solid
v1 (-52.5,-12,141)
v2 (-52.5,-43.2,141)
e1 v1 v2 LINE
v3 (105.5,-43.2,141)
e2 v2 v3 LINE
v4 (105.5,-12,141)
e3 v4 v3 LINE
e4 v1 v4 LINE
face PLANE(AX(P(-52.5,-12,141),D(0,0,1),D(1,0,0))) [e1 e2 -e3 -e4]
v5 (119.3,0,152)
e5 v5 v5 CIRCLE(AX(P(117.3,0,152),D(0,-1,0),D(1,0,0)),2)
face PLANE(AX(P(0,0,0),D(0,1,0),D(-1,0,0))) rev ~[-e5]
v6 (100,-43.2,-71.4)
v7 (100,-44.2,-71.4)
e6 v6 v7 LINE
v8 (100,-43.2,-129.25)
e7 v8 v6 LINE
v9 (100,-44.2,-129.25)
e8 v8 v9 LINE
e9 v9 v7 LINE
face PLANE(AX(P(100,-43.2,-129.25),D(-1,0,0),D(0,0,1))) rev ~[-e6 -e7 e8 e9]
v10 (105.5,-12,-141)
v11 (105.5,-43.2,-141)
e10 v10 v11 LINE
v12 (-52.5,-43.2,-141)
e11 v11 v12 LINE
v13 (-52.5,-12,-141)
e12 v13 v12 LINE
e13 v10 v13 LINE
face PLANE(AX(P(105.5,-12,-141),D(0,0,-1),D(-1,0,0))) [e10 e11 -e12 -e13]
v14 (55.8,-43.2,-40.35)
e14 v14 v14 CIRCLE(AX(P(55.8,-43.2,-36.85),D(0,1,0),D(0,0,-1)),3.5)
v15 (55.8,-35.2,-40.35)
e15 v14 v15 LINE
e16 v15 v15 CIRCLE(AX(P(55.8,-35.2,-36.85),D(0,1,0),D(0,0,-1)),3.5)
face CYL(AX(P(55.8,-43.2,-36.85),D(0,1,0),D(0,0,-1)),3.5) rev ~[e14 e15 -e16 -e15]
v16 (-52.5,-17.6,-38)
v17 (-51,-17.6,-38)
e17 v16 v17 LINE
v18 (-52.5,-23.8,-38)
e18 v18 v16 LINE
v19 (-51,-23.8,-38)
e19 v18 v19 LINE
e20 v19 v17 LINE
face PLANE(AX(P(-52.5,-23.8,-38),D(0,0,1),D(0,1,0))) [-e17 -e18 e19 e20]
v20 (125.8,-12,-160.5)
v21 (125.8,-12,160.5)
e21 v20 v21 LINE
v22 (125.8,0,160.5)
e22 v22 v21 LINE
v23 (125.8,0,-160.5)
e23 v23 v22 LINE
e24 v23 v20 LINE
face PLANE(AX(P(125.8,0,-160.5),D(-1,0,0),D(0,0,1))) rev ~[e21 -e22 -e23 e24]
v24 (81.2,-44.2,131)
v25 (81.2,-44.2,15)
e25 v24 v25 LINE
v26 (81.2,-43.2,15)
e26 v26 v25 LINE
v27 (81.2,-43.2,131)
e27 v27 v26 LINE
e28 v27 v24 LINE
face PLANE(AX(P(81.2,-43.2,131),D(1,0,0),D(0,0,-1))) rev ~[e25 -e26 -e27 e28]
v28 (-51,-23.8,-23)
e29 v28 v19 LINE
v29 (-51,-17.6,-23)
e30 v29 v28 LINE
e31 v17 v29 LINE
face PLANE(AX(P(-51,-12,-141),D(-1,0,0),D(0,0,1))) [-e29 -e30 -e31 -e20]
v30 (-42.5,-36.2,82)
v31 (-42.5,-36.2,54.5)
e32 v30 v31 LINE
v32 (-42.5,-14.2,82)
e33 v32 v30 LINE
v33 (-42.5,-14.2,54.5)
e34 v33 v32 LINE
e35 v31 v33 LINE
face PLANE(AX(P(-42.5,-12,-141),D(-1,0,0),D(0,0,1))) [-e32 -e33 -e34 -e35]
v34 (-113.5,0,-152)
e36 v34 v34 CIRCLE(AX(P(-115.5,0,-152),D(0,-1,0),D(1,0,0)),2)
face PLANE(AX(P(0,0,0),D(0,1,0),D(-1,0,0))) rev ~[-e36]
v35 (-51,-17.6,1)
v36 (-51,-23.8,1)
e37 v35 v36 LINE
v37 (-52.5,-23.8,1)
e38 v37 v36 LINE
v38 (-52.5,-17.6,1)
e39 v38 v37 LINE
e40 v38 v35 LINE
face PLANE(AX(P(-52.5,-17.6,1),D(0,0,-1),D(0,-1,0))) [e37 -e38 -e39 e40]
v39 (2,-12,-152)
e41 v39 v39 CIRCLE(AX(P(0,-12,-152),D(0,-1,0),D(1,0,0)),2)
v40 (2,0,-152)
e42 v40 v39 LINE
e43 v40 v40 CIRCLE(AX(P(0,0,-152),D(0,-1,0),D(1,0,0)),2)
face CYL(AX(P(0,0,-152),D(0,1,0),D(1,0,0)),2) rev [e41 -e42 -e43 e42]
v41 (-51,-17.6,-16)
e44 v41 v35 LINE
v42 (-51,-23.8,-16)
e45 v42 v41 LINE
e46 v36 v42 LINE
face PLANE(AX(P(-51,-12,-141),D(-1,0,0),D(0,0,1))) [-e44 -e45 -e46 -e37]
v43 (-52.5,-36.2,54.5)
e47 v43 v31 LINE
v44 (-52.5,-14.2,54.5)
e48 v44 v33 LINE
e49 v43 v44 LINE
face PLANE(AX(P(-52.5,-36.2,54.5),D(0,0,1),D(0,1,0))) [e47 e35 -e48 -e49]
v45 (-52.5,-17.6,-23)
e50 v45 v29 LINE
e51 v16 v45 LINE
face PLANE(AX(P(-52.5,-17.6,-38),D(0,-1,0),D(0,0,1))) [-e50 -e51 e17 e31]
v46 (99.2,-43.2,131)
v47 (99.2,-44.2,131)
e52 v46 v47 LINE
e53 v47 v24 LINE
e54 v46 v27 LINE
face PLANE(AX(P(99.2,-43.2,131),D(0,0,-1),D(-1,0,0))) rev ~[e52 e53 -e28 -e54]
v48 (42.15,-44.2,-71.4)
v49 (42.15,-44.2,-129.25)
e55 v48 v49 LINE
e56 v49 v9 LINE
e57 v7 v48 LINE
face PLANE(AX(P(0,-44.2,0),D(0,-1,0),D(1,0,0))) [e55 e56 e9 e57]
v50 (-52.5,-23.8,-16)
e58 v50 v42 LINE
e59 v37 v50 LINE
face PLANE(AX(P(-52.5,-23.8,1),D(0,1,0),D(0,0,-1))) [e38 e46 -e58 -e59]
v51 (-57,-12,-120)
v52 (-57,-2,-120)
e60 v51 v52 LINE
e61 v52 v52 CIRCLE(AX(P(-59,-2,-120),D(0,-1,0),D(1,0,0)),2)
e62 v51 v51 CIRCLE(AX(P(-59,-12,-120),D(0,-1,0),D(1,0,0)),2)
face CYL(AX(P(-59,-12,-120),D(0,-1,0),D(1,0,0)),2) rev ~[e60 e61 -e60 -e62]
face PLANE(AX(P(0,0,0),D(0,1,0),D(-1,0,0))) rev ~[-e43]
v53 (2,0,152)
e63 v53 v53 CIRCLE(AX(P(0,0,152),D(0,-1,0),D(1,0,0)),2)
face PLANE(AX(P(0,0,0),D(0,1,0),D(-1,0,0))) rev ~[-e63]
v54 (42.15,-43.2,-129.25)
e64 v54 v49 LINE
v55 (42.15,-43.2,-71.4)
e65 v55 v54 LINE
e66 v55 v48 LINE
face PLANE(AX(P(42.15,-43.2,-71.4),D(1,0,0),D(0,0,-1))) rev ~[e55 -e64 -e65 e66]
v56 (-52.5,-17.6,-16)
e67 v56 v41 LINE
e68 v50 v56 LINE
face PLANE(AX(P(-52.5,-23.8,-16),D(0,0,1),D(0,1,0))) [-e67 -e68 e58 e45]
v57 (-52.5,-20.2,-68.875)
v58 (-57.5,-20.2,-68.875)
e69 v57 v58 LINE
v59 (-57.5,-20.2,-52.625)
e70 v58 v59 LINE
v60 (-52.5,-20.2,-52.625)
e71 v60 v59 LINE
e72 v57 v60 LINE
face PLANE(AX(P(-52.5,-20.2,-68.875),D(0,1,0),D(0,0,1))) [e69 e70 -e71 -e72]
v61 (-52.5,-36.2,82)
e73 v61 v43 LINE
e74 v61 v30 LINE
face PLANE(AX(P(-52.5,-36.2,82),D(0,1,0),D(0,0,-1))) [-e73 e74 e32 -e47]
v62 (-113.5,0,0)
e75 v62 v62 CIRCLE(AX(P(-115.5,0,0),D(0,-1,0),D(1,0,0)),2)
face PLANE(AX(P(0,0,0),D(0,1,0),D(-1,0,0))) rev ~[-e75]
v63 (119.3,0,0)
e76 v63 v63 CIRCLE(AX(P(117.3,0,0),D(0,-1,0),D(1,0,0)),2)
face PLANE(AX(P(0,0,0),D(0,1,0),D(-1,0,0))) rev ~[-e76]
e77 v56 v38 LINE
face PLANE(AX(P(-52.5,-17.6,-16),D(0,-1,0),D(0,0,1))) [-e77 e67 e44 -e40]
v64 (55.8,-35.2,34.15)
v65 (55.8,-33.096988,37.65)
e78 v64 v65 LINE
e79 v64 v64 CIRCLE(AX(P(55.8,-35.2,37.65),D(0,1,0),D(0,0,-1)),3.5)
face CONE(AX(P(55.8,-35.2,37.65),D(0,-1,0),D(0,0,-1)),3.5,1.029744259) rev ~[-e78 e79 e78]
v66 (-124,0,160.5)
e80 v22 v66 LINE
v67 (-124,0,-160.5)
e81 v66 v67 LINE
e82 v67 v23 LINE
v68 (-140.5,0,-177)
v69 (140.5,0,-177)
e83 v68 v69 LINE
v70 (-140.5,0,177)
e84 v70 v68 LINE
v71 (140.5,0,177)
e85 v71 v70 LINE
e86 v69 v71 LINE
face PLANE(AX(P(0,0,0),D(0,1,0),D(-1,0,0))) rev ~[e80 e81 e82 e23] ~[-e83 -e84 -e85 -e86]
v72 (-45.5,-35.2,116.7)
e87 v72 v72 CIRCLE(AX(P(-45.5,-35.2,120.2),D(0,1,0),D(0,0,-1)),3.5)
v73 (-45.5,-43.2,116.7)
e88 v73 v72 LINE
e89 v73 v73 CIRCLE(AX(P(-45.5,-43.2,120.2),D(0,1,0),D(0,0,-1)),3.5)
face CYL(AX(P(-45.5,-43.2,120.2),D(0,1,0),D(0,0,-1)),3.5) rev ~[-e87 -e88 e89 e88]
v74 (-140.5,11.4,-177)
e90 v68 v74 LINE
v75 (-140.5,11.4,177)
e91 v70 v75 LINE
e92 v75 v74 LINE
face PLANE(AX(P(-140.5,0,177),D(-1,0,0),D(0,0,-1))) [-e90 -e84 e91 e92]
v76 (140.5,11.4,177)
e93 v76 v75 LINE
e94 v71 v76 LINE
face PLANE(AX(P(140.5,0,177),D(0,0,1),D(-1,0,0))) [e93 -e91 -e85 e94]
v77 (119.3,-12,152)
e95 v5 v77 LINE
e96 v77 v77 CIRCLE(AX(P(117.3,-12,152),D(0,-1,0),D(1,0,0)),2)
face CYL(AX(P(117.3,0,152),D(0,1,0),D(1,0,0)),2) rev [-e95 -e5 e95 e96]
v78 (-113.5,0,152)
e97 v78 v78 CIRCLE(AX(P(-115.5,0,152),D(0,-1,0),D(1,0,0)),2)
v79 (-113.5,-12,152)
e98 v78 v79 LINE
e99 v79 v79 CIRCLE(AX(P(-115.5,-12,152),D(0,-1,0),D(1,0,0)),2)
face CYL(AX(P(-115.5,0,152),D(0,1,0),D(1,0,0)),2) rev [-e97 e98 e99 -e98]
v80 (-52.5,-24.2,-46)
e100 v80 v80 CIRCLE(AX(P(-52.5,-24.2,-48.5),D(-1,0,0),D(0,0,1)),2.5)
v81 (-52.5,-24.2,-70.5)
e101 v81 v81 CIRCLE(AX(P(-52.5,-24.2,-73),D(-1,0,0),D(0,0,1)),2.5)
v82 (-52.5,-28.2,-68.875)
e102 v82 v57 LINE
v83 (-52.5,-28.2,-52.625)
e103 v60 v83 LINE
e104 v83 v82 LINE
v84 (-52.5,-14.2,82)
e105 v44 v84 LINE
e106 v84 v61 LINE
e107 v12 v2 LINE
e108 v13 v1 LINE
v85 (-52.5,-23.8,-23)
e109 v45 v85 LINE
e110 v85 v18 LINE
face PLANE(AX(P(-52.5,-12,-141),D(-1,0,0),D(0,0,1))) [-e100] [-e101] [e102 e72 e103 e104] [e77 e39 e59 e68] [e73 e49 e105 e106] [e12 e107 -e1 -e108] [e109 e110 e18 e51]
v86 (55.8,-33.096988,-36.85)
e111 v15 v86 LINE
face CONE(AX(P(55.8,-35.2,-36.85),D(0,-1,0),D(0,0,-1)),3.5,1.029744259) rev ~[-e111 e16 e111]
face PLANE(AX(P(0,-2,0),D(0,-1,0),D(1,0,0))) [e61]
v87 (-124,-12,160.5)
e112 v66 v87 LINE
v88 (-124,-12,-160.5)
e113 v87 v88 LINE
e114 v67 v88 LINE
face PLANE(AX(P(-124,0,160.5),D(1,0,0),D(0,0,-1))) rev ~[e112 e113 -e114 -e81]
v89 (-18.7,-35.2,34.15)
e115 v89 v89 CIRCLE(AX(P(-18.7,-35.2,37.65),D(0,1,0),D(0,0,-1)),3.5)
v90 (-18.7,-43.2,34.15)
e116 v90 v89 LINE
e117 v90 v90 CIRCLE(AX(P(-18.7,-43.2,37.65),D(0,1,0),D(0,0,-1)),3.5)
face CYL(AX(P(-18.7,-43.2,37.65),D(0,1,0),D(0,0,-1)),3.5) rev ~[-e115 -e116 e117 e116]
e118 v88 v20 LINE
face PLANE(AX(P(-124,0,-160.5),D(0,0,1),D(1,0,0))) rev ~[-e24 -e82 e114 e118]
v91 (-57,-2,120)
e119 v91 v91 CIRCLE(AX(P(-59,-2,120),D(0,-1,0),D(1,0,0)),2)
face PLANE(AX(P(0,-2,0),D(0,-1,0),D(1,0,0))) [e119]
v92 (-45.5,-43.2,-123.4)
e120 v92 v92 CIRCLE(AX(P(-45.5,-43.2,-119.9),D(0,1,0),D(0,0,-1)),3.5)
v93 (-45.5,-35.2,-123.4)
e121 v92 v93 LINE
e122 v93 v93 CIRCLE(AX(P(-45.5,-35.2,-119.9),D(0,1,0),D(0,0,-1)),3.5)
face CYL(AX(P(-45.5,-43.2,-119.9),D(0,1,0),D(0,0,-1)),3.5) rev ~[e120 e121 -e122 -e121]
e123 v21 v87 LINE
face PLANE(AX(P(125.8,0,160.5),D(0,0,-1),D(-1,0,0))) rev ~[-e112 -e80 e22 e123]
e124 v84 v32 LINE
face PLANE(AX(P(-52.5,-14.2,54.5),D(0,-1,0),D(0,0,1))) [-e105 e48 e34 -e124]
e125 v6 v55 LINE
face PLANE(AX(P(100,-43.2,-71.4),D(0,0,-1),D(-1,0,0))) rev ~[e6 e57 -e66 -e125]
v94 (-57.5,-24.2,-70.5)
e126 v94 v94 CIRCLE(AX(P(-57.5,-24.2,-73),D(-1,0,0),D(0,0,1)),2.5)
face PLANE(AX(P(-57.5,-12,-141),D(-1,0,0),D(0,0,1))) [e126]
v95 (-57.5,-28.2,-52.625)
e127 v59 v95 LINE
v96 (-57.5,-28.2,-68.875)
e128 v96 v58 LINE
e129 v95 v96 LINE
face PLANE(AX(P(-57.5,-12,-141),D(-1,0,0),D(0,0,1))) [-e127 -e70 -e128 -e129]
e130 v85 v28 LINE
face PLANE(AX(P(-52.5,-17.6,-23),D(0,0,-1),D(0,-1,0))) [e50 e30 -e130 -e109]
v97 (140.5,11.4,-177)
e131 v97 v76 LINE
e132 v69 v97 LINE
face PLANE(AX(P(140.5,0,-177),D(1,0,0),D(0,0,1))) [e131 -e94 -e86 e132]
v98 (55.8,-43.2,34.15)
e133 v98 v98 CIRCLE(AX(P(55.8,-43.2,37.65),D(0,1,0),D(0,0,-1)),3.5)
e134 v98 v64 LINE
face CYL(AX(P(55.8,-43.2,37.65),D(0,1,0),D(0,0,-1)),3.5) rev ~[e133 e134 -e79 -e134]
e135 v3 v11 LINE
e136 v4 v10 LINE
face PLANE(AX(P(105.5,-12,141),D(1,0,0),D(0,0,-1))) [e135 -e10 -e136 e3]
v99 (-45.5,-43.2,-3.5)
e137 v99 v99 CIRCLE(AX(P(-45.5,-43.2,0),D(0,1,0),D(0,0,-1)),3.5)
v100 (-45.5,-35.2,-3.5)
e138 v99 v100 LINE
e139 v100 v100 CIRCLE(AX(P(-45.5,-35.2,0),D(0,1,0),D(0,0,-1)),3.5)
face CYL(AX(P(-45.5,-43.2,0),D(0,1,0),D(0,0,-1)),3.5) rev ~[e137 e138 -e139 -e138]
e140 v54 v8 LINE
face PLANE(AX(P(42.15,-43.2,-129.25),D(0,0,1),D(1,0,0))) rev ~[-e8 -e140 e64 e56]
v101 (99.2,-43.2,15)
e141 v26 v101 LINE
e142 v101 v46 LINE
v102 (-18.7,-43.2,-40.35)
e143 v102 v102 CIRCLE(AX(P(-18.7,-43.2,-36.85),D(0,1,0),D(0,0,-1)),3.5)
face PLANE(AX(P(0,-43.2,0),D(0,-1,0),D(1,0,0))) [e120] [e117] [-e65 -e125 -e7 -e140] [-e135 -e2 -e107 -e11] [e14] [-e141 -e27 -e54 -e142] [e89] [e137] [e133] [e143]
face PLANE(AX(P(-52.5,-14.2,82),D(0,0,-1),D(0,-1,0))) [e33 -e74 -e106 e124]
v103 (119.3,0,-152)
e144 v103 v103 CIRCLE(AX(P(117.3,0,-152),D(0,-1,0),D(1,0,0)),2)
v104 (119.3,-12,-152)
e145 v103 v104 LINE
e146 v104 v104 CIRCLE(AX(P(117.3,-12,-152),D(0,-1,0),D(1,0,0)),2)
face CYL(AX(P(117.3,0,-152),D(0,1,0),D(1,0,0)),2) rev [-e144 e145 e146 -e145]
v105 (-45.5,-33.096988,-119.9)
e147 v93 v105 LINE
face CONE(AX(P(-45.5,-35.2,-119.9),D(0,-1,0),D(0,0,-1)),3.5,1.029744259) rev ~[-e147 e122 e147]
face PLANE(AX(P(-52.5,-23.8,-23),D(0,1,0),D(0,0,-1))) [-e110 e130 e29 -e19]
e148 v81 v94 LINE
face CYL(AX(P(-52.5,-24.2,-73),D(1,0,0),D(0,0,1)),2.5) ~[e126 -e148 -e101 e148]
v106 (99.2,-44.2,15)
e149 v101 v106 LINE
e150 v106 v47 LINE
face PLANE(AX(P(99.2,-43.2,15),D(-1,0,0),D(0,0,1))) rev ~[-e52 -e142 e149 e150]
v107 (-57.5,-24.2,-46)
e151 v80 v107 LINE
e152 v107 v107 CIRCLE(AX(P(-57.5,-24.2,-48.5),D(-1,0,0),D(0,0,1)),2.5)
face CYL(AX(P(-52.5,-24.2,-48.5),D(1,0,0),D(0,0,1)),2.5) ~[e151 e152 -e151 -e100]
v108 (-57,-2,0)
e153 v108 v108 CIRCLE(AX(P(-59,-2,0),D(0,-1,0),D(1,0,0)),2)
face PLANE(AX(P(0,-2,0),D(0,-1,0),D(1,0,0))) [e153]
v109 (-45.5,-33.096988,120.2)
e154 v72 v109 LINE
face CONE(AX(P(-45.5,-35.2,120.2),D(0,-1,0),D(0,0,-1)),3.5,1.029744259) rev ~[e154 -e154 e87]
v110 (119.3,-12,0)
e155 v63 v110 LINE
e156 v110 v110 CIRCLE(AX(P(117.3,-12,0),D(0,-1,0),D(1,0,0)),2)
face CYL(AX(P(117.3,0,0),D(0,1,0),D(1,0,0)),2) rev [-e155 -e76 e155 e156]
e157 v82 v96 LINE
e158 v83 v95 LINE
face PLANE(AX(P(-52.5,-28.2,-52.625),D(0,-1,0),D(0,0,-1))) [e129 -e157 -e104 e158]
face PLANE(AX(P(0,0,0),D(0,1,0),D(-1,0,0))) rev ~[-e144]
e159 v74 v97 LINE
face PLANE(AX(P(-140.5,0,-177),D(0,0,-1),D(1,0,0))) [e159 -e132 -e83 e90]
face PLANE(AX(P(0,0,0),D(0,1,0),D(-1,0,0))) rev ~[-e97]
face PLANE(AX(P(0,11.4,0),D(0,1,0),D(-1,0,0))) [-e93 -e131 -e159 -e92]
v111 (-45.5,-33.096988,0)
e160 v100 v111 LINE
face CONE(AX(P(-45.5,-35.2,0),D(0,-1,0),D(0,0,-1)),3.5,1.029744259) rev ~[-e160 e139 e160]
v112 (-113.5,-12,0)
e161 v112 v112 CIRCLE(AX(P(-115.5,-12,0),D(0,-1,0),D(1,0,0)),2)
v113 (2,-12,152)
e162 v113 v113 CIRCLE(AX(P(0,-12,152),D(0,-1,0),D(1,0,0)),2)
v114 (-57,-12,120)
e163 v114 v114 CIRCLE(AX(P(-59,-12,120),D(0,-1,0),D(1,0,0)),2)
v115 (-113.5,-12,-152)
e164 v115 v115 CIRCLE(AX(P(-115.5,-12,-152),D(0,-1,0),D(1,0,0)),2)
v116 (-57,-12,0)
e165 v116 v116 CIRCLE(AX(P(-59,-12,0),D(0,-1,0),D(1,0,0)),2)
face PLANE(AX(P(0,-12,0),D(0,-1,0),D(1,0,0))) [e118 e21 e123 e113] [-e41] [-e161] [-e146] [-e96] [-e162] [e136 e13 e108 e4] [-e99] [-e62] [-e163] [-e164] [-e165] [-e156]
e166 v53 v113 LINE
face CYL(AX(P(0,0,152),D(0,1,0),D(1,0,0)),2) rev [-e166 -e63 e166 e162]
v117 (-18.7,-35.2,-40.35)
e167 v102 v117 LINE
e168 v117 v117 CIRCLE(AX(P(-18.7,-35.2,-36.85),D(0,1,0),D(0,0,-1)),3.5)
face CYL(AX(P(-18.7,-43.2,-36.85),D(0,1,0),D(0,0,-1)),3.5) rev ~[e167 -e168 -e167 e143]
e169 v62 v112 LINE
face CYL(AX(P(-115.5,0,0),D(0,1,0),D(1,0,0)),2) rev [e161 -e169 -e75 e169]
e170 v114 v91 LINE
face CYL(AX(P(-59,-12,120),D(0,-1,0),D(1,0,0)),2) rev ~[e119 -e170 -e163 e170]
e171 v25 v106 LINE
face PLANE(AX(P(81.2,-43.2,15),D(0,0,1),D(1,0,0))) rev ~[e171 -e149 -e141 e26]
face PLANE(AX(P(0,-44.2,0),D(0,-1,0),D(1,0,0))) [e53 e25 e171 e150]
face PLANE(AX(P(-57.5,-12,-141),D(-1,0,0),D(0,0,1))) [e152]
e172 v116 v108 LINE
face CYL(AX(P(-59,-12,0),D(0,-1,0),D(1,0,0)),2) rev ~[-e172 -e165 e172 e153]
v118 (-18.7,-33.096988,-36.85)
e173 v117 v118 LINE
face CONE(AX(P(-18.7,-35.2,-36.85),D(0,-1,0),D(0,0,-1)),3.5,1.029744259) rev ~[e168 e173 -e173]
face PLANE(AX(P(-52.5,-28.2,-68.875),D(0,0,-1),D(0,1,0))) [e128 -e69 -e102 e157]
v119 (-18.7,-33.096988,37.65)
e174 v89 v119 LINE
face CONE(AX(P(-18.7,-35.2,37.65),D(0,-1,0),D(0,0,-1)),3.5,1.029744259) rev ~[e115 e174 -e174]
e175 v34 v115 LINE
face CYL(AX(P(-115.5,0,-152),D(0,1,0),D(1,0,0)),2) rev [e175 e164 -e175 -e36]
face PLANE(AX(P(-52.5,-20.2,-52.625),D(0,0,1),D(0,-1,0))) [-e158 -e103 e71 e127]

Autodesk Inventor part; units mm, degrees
ref_plane "YZ Plane" through (0, 0, 0) normal (1, 0, 0) x (0, 1, 0)
ref_plane "XZ Plane" through (0, 0, 0) normal (0, 1, 0) x (-1, 0, 0)
ref_plane "XY Plane" through (0, 0, 0) normal (0, 0, 1) x (1, 0, 0)
sketch "Sketch1" plane through (0, 0, 0) normal (0, 1, 0) x (-1, 0, 0)
  point P0 (0, 0)
sketch "Sketch2" plane through (0, 0, 0) normal (0, 1, 0) x (-1, 0, 0)
  line L0 (-140.5, 177) -> (140.5, 177)
  line L1 (140.5, 177) -> (140.5, -177)
  line L2 (140.5, -177) -> (-140.5, -177)
  line L3 (-140.5, -177) -> (-140.5, 177)
  line L4 (-140.5, 177) -> (140.5, -177) construction
  line L5 (140.5, 177) -> (-140.5, -177) construction
  point P0 (0, 0)
  dimension "d0" = 354
  dimension "d1" = 281
extrude "Extrusion1" add sketch "Sketch2" along normal blind 11.4
sketch "Sketch3" plane through (0, 0, 0) normal (0, -1, 0) x (1, 0, 0)
  line L0 (-124, -160.5) -> (125.8, -160.5)
  line L1 (125.8, -160.5) -> (125.8, 160.5)
  line L2 (125.8, 160.5) -> (-124, 160.5)
  line L3 (-124, 160.5) -> (-124, -160.5)
  line L4 (-123, -158.8) -> (123, 158.8) construction
  line L5 (123, -158.8) -> (-123, 158.8) construction
  circle A0 centre (-115.5, -152) radius 2
  circle A1 centre (117.3, -152) radius 2
  circle A2 centre (117.3, 152) radius 2
  circle A3 centre (-115.5, 152) radius 2
  line L6 (-140.5, -177) -> (-140.5, 177) projected
  line L7 (-140.5, 177) -> (140.5, 177) projected
  line L8 (140.5, -177) -> (-140.5, -177) projected
  line L9 (140.5, 177) -> (140.5, -177) projected
  circle A4 centre (-115.5, 0) radius 2
  circle A5 centre (117.3, 0) radius 2
  circle A6 centre (0, 152) radius 2
  circle A7 centre (0, -152) radius 2
  point P0 (0, 0)
  dimension "d189" = 4
  dimension "d190" = 8.5
  dimension "d191" = 8.5
  dimension "d192" = 8.5
  dimension "d193" = 8.5
  dimension "d194" = 8.5
  dimension "d195" = 8.5
  dimension "d196" = 8.5
  dimension "d197" = 8.5
  dimension "d207" = 16.5
  dimension "d208" = 16.5
  dimension "d209" = 16.5
  dimension "d210" = 14.7
  dimension "d211" = 8.5
  dimension "d212" = 354
  dimension "d213" = 177
  dimension "d214" = 8.5
  dimension "d215" = 177
  dimension "d216" = 8.5
  dimension "d217" = 281
  dimension "d218" = 140.5
  dimension "d220" = 140.5
  dimension "d221" = 8.5
extrude "Extrusion2" add sketch "Sketch3" along normal blind 12 contours L3 L2 L1 L0
sketch "Sketch7" plane through (0, -12, 0) normal (0, -1, 0) x (1, 0, 0)
  line L0 (-52.5, 141) -> (105.5, 141)
  line L1 (105.5, 141) -> (105.5, -141)
  line L2 (105.5, -141) -> (-52.5, -141)
  line L3 (-52.5, -141) -> (-52.5, 141)
  line L4 (-52.5, 141) -> (105.5, -141) construction
  line L5 (105.5, 141) -> (-52.5, -141) construction
  line L6 (125.8, -160.5) -> (125.8, 160.5) projected
  line L7 (-124, -160.5) -> (125.8, -160.5) projected
  line L8 (-140.5, 177) -> (140.5, 177) projected
  line L9 (140.5, -177) -> (-140.5, -177) projected
  line L10 (140.5, 177) -> (140.5, -177) projected
  point P0 (0, 0)
  dimension "d62" = 158
  dimension "d204" = 36
  dimension "d205" = 36
  dimension "d206" = 35
extrude "Extrusion3" add sketch "Sketch7" along normal blind 31.2
sketch "Sketch8" plane through (0, -43.2, 0) normal (0, -1, 0) x (1, 0, 0)
  line L0 (99.2, 131) -> (81.2, 131)
  line L1 (81.2, 131) -> (81.2, 15)
  line L2 (81.2, 15) -> (99.2, 15)
  line L3 (99.2, 15) -> (99.2, 131)
  line L4 (99.2, 131) -> (81.2, 15) construction
  line L5 (81.2, 131) -> (99.2, 15) construction
  line L6 (105.5, -141) -> (105.5, 141) projected
  line L7 (105.5, 141) -> (-52.5, 141) projected
  point P0 (0, 0)
  point P1 (90.2, 73)
  dimension "d67" = 116
  dimension "d68" = 18
  dimension "d69" = 6.3
  dimension "d70" = 10
extrude "Extrusion4" add sketch "Sketch8" along normal blind 1
sketch "Sketch9" plane through (0, -43.2, 0) normal (0, -1, 0) x (1, 0, 0)
  line L0 (100, -71.4) -> (42.15, -71.4)
  line L1 (42.15, -71.4) -> (42.15, -129.25)
  line L2 (42.15, -129.25) -> (100, -129.25)
  line L3 (100, -129.25) -> (100, -71.4)
  line L4 (100, -71.4) -> (42.15, -129.25) construction
  line L5 (42.15, -71.4) -> (100, -129.25) construction
  line L6 (105.5, -141) -> (105.5, 141) projected
  line L7 (-52.5, -141) -> (105.5, -141) projected
  point P0 (0, 0)
  point P1 (71.075, -100.325)
  dimension "d73" = 5.5
  dimension "d74" = 57.85
  dimension "d75" = 11.75
  dimension "d76" = 57.85
extrude "Extrusion5" add sketch "Sketch9" along normal blind 1
sketch "Sketch10" plane through (0, -43.2, 0) normal (0, -1, 0) x (1, 0, 0)
  line L0 (105.5, 141) -> (-52.5, 141) projected
  line L1 (-52.5, 141) -> (-52.5, -141) projected
  line L2 (-52.5, -141) -> (105.5, -141) projected
  point P0 (0, 0)
  point P1 (-45.5, 120.2)
  point P2 (-45.5, -119.9)
  dimension "d86" = 20.8
  dimension "d87" = 7
  dimension "d90" = 240.1
  dimension "d95" = 21.1
hole "Hole4" at (-45.5, -43.2, 120.2) at (-45.5, -43.2, -119.9) direction (0, 1, 0) diameter 7 depth 8 tip angle 118
sketch "Sketch11" plane through (0, -43.2, 0) normal (0, -1, 0) x (1, 0, 0)
  line L0 (105.5, 141) -> (-52.5, 141) projected
  line L1 (-52.5, 141) -> (-52.5, -141) projected
  line L2 (125.8, 160.5) -> (-124, 160.5) projected
  point P0 (0, 0)
  point P1 (-45.5, 0)
  dimension "d103" = 141
  dimension "d104" = 7
  dimension "d185" = 160.5
hole "Hole5" at (-45.5, -43.2, 0) direction (0, 1, 0) diameter 7 depth 8 tip angle 118
sketch "Sketch12" plane through (0, -43.2, 0) normal (0, -1, 0) x (1, 0, 0)
  line L0 (105.5, 141) -> (-52.5, 141) projected
  line L1 (-52.5, 141) -> (-52.5, -141) projected
  point P0 (0, 0)
  point P1 (-18.7, 37.65)
  point P2 (-18.7, -36.85)
  point P3 (55.8, 37.65)
  point P4 (55.8, -36.85)
  dimension "d112" = 103.35
  dimension "d113" = 33.8
  dimension "d116" = 74.5
  dimension "d119" = 74.5
hole "Hole6" at (-18.7, -43.2, 37.65) at (55.8, -43.2, 37.65) at (55.8, -43.2, -36.85) at (-18.7, -43.2, -36.85) direction (0, 1, 0) diameter 7 depth 8 tip angle 118
sketch "Sketch13" plane through (-52.5, -12, -141) normal (-1, 0, 0) x (0, 0, 1)
  line L0 (223, -24.2) -> (195.5, -24.2)
  line L1 (195.5, -24.2) -> (195.5, -2.2)
  line L2 (195.5, -2.2) -> (223, -2.2)
  line L3 (223, -2.2) -> (223, -24.2)
  line L4 (223, -24.2) -> (195.5, -2.2) construction
  line L5 (195.5, -24.2) -> (223, -2.2) construction
  line L6 (282, 0) -> (282, -31.2) projected
  line L7 (282, -31.2) -> (0, -31.2) projected
  point P0 (141, 12)
  point P1 (209.25, -13.2)
  dimension "d122" = 59
  dimension "d123" = 27.5
  dimension "d124" = 22
  dimension "d133" = 7
extrude "Extrusion6" cut sketch "Sketch13" against normal blind 10
sketch "Sketch14" plane through (-52.5, -12, -141) normal (-1, 0, 0) x (0, 0, 1)
  line L0 (142, -11.8) -> (125, -11.8)
  line L1 (125, -11.8) -> (125, -5.6)
  line L2 (125, -5.6) -> (142, -5.6)
  line L3 (142, -5.6) -> (142, -11.8)
  line L4 (142, -11.8) -> (125, -5.6) construction
  line L5 (125, -11.8) -> (142, -5.6) construction
  line L6 (195.5, -24.2) -> (195.5, -2.2) projected
  line L7 (282, -31.2) -> (0, -31.2) projected
  line L8 (223, -24.2) -> (195.5, -24.2) projected
  line L9 (301.5, 0) -> (-19.5, 0) projected
  line L10 (195.5, -2.2) -> (223, -2.2) projected
  line L11 (282, 0) -> (282, -31.2) projected
  point P0 (141, 12)
  point P1 (133.5, -8.7)
  dimension "d128" = 6.2
  dimension "d129" = 17
  dimension "d130" = 19.4
  dimension "d222" = 140
extrude "Extrusion7" cut sketch "Sketch14" against normal blind 1.5
sketch "Sketch15" plane through (-52.5, -12, -141) normal (-1, 0, 0) x (0, 0, 1)
  line L0 (118, -11.8) -> (103, -11.8)
  line L1 (103, -11.8) -> (103, -5.6)
  line L2 (103, -5.6) -> (118, -5.6)
  line L3 (118, -5.6) -> (118, -11.8)
  line L4 (118, -11.8) -> (103, -5.6) construction
  line L5 (103, -11.8) -> (118, -5.6) construction
  line L6 (125, -11.8) -> (125, -5.6) projected
  line L7 (282, -31.2) -> (0, -31.2) projected
  point P0 (141, 12)
  point P1 (110.5, -8.7)
  dimension "d136" = 7
  dimension "d137" = 6.2
  dimension "d138" = 15
  dimension "d141" = 19.4
extrude "Extrusion8" cut sketch "Sketch15" against normal blind 1.5
sketch "Sketch16" plane through (-52.5, -12, -141) normal (-1, 0, 0) x (0, 0, 1)
  circle A0 centre (92.5, -12.2) radius 2.5
  line L0 (103, -11.8) -> (103, -5.6) projected
  line L1 (282, -31.2) -> (0, -31.2) projected
  circle A1 centre (68, -12.2) radius 2.5
  line L2 (88.375, -16.2) -> (72.125, -16.2)
  line L3 (72.125, -16.2) -> (72.125, -8.2)
  line L4 (72.125, -8.2) -> (88.375, -8.2)
  line L5 (88.375, -8.2) -> (88.375, -16.2)
  line L6 (88.375, -16.2) -> (72.125, -8.2) construction
  line L7 (72.125, -16.2) -> (88.375, -8.2) construction
  point P0 (141, 12)
  point P1 (80.25, -12.2)
  dimension "d142" = 10.5
  dimension "d144" = 5
  dimension "d147" = 24.5
  dimension "d223" = 19
  dimension "d224" = 12.25
  dimension "d225" = 19
  dimension "d226" = 16.25
  dimension "d227" = 8
extrude "Extrusion9" add sketch "Sketch16" along normal blind 5
sketch "Sketch20" plane through (0, -12, 0) normal (0, -1, 0) x (1, 0, 0)
  circle A0 centre (-59, 120) radius 2
  circle A1 centre (-59, 0) radius 2
  circle A2 centre (-59, -120) radius 2
  line L0 (-52.5, -141) -> (-52.5, 141) projected
  circle A3 centre (-115.5, 152) radius 2 projected
  point P0 (0, 0)
  dimension "d228" = 21
  dimension "d229" = 6.5
  dimension "d230" = 6.5
  dimension "d231" = 6.5
  dimension "d232" = 21
  dimension "d233" = 240
  dimension "d234" = 120
extrude "Extrusion11" cut sketch "Sketch20" against normal blind 10 contours A0 | A1 | A2
equation "\"d191\" = d190"
equation "\"d192\" = d190"
equation "\"d193\" = d190"
equation "\"d194\" = d190"
equation "\"d195\" = d190"
equation "\"d196\" = d190"
equation "\"d197\" = d190"
equation "\"d209\" = d208"
equation "\"d211\" = d190"
equation "\"d213\" = 0.5 * d212"
equation "\"d214\" = d190"
equation "\"d215\" = d213"
equation "\"d216\" = d190"
equation "\"d218\" = 0.5 * d217"
equation "\"d220\" = d218"
equation "\"d221\" = d190"
equation "\"d205\" = d204"
equation "\"d224\" = 0.5 * d147"
equation "\"d225\" = d223"
equation "\"d230\" = d229"
equation "\"d231\" = d229"
equation "\"d232\" = d228"
equation "\"d234\" = 0.5 * d233"
properties part number "LCDScreen"
